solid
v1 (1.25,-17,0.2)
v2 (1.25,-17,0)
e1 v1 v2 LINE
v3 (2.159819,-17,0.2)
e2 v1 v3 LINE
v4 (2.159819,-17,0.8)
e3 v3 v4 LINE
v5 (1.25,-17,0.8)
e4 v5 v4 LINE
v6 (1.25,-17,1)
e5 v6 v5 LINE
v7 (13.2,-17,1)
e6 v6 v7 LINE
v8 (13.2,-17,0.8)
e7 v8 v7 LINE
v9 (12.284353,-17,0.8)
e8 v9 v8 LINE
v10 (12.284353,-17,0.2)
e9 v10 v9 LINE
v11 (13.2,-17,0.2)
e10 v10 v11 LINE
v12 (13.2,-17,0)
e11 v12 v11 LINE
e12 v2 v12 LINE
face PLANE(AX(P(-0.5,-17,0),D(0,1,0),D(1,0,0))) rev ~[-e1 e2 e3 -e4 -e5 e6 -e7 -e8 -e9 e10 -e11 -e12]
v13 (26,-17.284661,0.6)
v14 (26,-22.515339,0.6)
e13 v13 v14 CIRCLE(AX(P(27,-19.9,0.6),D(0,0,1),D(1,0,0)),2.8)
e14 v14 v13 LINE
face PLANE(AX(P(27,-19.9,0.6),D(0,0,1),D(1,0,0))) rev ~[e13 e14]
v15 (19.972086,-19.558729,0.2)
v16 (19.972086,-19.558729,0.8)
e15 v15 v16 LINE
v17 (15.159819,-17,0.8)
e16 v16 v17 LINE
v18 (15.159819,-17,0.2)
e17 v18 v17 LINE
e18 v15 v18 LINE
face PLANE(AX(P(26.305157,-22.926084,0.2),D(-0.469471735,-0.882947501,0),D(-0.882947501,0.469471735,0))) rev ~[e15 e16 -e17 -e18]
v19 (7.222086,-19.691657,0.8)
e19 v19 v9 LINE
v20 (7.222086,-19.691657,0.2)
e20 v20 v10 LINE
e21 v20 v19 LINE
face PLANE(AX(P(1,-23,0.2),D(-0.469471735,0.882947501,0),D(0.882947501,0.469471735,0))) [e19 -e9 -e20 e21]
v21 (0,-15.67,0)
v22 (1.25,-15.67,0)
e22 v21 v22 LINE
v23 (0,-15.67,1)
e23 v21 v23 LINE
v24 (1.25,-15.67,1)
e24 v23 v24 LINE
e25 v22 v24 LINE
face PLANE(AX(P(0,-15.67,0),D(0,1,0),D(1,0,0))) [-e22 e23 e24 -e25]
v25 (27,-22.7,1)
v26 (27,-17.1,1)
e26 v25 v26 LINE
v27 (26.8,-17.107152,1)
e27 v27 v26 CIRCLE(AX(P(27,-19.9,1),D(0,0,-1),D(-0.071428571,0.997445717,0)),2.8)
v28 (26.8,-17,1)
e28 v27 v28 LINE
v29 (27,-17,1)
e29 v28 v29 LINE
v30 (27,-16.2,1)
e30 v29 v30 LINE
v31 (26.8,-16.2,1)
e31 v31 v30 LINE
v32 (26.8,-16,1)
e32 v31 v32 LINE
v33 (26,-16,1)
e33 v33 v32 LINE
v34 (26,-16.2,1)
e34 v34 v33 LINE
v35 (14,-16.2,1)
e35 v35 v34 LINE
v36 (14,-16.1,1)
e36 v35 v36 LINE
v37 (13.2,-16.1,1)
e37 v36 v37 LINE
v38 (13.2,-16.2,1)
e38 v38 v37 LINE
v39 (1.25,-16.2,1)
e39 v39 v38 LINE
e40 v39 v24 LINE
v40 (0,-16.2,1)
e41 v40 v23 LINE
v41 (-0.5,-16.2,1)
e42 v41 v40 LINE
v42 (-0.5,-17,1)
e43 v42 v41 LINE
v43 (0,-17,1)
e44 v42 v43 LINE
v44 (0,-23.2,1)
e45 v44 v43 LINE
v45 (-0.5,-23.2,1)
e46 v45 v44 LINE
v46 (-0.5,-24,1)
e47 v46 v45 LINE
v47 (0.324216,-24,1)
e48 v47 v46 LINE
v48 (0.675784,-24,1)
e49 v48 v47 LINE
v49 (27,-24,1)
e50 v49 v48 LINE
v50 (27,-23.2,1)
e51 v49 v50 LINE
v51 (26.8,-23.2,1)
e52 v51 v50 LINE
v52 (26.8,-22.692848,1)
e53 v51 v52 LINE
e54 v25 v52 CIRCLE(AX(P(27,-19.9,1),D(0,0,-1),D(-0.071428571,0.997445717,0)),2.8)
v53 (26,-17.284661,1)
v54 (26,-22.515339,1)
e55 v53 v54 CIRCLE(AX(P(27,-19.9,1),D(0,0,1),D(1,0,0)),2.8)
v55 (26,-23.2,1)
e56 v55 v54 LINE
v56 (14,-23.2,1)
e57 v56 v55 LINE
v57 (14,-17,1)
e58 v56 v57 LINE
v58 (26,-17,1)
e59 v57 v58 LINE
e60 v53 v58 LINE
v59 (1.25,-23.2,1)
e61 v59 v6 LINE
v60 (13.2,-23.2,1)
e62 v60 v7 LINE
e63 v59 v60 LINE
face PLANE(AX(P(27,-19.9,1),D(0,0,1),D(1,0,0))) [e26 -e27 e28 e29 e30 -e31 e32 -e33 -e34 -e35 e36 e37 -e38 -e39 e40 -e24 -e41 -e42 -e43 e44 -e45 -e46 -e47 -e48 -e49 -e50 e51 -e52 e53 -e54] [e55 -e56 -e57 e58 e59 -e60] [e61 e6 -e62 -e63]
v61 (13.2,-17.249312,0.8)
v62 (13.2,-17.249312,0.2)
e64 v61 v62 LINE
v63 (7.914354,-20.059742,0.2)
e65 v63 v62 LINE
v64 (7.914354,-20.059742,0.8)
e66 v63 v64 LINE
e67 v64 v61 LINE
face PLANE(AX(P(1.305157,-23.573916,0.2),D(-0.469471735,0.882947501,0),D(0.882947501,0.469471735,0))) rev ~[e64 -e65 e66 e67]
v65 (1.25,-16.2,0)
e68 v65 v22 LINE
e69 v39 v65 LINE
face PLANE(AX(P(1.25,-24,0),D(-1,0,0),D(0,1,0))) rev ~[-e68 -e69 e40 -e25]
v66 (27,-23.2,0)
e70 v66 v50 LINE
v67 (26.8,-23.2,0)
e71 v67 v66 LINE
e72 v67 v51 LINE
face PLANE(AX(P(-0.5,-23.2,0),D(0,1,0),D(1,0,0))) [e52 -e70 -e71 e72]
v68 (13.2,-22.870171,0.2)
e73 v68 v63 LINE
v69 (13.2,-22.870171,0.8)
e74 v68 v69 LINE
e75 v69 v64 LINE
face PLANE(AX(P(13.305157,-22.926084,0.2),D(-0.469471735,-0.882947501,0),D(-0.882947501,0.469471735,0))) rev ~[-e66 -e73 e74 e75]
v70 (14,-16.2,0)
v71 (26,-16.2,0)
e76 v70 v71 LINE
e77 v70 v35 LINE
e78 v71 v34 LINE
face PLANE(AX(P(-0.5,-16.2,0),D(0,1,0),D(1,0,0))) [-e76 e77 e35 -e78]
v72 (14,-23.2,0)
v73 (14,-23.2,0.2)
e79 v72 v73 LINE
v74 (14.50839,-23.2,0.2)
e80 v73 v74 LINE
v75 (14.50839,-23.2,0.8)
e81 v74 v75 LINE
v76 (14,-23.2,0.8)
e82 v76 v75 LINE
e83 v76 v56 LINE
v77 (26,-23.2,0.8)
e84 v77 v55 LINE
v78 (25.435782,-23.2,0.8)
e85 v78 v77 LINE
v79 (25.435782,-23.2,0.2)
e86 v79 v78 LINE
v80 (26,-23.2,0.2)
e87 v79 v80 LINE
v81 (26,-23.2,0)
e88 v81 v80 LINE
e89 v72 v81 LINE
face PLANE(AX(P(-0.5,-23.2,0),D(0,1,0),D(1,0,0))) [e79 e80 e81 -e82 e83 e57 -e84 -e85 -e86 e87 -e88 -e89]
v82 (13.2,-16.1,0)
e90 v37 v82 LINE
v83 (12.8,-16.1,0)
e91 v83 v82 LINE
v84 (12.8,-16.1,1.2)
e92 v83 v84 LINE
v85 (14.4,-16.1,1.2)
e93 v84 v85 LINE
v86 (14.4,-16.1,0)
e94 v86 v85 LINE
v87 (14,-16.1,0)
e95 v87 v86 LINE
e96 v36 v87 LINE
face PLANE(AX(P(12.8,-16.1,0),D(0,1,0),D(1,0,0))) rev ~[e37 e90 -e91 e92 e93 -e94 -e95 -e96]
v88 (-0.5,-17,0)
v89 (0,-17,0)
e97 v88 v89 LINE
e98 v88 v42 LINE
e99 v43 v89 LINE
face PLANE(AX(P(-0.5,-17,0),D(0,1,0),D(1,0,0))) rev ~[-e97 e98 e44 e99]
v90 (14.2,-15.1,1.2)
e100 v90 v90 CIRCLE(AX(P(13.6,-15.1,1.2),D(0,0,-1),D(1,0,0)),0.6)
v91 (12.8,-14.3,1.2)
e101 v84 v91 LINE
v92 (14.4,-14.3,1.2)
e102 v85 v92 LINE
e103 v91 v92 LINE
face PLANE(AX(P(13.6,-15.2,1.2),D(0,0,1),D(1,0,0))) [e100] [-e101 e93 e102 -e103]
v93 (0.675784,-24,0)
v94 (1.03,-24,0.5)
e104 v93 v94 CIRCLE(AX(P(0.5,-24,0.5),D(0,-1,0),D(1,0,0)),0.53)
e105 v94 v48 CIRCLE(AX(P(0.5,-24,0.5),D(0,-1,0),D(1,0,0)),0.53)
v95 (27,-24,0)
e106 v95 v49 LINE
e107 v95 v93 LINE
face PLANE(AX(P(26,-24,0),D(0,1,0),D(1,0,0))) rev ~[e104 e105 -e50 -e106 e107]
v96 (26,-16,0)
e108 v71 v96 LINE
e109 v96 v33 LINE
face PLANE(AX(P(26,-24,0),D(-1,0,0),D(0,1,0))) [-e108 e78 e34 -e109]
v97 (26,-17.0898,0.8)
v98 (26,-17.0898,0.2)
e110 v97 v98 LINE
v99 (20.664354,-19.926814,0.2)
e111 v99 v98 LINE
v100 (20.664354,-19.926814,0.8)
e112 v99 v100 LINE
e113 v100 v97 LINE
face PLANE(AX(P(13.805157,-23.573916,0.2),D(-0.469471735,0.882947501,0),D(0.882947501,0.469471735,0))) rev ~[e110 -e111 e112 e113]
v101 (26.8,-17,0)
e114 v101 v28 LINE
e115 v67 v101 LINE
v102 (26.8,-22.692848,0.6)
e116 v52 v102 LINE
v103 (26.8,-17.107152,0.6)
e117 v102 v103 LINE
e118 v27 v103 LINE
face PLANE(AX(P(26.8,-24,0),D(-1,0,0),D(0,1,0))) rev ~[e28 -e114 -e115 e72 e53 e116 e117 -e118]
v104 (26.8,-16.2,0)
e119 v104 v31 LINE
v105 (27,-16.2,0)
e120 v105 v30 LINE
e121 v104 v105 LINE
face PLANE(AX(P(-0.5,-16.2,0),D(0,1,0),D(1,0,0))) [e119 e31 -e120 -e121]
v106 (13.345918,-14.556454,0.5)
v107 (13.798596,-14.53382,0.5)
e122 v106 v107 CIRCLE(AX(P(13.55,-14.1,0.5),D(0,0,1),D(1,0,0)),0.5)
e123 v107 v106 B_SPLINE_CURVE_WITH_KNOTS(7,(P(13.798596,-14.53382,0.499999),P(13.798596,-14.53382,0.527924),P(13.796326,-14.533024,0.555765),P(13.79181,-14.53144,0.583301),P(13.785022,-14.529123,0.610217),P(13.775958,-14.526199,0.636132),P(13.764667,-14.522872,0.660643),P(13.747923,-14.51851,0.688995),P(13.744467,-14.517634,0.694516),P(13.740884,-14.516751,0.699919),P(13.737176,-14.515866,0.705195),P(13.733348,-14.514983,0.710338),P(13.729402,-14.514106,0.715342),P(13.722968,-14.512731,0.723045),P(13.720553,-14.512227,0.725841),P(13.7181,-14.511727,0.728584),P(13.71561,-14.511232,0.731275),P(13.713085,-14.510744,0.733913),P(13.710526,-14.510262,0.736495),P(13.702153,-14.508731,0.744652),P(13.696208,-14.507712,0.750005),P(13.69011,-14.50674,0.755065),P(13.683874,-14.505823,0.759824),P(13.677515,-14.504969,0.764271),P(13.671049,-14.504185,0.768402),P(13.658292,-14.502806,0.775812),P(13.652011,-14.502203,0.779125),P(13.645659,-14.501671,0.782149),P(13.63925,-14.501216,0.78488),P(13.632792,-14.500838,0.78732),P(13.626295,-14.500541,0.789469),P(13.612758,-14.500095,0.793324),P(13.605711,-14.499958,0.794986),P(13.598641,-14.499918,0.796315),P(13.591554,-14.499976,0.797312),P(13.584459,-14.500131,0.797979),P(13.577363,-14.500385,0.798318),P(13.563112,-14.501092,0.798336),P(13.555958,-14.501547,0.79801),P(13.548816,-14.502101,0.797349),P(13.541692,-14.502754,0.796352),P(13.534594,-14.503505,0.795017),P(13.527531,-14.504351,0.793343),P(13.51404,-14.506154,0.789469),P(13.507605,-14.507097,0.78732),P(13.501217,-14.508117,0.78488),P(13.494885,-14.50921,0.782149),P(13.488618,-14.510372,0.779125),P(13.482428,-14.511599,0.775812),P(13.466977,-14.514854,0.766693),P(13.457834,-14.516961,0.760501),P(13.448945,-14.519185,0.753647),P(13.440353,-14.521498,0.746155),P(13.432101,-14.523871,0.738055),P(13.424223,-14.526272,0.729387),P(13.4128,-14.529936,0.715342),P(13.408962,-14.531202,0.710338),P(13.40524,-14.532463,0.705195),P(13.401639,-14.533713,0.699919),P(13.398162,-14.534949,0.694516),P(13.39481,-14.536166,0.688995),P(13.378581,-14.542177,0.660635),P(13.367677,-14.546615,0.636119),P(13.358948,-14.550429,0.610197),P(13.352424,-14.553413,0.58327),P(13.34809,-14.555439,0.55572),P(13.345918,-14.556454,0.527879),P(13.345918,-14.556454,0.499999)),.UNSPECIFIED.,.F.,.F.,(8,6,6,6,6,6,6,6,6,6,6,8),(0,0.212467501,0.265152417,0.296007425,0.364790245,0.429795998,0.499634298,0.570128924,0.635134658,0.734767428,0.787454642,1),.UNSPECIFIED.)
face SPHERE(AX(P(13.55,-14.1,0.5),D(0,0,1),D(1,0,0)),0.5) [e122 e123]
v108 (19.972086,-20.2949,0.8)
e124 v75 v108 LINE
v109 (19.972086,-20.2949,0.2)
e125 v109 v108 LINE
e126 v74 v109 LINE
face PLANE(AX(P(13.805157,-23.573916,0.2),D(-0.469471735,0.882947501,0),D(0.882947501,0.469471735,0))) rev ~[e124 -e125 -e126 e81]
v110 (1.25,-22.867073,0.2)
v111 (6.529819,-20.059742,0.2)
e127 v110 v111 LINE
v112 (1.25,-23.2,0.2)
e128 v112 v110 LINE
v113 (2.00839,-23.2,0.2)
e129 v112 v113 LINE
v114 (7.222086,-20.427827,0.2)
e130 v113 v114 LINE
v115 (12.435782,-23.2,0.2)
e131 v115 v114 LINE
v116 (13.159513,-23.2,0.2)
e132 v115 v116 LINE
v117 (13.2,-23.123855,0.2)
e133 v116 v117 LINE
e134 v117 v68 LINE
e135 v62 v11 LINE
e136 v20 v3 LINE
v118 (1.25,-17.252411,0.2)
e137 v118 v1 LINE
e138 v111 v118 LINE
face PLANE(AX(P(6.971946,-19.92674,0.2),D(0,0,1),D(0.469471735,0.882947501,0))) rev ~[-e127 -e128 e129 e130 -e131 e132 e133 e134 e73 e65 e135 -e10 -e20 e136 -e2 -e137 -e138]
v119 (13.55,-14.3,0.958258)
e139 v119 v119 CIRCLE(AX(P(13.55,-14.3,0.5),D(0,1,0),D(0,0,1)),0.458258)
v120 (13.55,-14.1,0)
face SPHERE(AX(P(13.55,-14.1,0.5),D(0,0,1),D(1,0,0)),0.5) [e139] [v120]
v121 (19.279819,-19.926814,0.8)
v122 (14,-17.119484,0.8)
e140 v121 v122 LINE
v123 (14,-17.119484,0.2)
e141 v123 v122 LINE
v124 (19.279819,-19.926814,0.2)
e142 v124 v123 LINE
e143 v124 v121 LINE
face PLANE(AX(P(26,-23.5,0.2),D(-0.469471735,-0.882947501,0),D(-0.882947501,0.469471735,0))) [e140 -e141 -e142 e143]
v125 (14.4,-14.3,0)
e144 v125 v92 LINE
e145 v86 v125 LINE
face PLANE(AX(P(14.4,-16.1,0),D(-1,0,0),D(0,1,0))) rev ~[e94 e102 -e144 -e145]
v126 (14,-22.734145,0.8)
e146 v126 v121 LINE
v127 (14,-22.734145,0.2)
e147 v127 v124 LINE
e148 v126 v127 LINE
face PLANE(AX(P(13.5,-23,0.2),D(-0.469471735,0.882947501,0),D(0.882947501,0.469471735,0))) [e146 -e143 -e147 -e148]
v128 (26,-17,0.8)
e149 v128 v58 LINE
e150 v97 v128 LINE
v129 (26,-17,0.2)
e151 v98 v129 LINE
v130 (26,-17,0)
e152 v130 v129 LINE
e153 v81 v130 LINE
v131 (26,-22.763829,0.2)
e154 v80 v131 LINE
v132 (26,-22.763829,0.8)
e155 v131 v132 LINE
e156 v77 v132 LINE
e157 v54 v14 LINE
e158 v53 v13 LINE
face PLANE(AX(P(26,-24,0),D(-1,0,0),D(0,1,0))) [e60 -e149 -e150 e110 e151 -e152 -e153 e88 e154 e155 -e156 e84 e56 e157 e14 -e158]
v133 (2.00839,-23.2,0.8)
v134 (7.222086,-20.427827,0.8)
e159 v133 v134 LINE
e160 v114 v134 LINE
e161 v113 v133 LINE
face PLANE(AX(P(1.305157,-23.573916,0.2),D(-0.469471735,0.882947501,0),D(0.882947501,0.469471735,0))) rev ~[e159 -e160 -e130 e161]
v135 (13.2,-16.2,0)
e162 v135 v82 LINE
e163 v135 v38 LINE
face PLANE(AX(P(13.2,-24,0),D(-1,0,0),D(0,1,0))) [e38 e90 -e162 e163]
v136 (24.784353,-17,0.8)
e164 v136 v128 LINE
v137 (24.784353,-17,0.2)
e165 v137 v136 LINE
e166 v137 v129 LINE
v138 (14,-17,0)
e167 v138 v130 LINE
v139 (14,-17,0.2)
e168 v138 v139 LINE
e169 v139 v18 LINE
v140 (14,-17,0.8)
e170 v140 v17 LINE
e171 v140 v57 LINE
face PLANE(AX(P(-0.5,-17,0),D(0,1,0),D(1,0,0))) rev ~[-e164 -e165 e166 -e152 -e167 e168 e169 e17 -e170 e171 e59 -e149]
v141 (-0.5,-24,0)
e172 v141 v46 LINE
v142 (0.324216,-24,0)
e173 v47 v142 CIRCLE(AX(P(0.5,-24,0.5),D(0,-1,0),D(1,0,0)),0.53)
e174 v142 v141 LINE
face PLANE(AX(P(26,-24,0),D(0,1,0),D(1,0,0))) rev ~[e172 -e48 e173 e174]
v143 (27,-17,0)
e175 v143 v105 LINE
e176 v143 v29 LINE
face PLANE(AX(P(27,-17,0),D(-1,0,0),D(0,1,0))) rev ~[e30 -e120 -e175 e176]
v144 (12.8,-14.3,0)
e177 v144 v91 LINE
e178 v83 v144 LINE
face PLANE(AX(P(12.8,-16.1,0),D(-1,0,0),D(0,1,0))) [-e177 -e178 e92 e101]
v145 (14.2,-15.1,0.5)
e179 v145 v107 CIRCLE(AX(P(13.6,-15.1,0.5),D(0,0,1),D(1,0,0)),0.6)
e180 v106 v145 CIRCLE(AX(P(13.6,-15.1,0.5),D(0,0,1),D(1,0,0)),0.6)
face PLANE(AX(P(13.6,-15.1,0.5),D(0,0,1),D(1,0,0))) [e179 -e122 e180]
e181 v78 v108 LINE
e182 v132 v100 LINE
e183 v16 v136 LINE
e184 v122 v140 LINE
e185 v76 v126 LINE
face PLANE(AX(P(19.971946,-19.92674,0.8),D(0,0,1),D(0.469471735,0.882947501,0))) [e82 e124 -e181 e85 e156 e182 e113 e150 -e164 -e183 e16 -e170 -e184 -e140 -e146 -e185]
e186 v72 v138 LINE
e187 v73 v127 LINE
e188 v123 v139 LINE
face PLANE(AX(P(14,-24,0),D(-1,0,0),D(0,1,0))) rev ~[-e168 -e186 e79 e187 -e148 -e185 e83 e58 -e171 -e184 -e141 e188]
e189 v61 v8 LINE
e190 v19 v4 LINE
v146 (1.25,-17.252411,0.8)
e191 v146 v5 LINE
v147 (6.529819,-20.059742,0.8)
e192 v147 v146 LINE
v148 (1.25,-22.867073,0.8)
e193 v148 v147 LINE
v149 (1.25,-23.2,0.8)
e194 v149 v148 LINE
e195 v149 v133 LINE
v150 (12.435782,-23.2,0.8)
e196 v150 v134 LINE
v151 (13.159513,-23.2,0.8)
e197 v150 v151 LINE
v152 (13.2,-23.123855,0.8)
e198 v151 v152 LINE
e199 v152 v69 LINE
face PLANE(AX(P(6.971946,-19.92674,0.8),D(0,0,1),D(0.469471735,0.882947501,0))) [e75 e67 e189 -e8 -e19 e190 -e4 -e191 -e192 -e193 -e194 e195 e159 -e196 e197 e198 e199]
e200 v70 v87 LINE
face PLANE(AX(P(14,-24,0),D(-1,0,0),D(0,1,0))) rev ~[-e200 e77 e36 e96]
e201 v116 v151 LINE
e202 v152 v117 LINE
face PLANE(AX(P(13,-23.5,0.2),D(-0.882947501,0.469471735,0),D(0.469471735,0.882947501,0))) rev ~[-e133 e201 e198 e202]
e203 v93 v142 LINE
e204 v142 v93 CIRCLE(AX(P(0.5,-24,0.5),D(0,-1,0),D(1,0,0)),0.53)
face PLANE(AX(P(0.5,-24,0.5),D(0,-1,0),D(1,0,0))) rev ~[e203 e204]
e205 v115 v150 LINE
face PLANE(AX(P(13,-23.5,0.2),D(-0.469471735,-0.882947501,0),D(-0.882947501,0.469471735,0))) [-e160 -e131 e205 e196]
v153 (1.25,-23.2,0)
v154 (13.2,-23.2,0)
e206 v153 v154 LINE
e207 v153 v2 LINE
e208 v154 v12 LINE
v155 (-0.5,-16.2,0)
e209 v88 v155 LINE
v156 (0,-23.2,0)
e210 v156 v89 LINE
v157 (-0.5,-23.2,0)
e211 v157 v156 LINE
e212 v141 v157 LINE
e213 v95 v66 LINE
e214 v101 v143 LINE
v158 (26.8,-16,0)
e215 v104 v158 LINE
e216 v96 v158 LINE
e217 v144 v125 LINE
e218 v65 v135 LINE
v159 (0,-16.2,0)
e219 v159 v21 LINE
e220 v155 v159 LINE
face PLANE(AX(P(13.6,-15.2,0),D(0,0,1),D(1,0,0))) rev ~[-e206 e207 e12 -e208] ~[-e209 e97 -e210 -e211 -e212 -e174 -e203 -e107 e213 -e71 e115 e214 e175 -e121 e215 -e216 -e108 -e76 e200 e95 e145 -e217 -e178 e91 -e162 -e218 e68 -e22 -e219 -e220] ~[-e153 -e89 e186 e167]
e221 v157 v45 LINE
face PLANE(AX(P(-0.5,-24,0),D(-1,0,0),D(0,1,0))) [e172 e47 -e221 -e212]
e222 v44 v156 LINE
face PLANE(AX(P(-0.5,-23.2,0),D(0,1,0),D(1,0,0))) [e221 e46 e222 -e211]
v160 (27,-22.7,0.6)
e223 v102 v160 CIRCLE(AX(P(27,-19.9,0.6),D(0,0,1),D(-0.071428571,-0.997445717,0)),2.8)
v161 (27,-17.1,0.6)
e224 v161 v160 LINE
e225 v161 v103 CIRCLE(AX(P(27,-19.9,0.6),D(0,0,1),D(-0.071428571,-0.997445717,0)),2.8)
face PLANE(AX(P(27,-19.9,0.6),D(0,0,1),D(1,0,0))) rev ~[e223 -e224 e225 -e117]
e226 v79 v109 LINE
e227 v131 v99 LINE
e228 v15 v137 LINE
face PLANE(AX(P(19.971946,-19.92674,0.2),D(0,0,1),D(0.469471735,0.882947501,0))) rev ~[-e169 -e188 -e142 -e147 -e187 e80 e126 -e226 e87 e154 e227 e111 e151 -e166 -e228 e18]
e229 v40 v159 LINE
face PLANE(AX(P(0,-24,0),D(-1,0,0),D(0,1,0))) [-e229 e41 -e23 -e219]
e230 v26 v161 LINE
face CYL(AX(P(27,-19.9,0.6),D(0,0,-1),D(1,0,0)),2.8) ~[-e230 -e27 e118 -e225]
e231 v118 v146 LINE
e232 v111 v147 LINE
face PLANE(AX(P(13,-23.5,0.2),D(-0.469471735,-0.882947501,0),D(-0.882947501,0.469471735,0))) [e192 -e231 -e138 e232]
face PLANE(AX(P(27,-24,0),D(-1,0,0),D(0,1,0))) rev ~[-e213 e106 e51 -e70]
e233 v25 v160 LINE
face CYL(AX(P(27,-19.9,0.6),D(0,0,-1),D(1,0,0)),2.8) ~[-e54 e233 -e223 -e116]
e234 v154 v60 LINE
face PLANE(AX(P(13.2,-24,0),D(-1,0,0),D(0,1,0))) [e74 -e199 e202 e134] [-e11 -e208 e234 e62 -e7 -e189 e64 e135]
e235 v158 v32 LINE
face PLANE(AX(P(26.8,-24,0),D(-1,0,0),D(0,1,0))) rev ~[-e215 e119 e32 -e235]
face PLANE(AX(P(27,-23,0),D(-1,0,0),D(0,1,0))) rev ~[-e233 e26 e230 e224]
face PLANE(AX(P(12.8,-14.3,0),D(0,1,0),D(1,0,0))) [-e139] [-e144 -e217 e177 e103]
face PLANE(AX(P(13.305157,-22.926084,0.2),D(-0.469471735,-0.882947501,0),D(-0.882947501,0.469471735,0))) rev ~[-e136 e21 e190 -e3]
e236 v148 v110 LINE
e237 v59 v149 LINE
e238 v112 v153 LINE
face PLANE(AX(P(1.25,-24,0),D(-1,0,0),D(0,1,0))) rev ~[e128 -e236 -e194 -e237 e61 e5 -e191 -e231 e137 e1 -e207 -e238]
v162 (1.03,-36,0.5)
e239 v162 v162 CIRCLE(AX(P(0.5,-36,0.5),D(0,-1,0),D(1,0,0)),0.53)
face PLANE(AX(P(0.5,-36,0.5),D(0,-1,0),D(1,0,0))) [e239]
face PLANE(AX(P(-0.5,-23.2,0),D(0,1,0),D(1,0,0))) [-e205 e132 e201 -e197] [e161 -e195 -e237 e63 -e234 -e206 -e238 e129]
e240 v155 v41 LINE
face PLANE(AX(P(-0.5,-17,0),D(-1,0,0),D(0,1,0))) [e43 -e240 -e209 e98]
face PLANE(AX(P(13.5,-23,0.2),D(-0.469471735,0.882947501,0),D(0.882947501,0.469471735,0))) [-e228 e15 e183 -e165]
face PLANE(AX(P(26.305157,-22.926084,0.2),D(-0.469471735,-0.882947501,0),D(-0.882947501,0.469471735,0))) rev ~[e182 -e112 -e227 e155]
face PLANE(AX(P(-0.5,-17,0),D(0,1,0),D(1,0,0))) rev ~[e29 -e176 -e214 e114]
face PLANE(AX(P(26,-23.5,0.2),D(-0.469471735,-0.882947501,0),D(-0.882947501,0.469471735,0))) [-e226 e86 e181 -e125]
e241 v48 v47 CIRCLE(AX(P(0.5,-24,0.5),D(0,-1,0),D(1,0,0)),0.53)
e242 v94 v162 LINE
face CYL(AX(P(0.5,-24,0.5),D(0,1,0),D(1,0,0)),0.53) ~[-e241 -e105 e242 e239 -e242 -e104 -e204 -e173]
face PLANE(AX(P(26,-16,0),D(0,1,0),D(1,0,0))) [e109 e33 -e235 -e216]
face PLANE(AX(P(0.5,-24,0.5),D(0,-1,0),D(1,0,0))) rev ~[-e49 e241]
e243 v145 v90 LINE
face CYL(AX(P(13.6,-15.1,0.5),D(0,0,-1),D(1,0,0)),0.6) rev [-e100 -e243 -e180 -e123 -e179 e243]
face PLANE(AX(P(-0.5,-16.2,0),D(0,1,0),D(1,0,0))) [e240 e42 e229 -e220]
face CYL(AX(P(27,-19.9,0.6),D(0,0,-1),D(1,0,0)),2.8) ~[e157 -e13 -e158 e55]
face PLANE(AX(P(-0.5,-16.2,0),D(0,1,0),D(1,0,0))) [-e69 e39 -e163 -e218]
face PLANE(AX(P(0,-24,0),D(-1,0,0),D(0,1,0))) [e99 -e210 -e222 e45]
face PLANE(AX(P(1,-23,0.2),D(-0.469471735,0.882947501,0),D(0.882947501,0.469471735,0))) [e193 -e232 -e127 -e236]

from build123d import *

# Parameters (mm, degrees)
SKETCH003_W            = 1.25
SKETCH003_H            = 8.33
PAD003_DEPTH           = 1
BOX019_W               = 27.5
BOX019_H               = 0.8
BOX019_DEPTH           = 1
LINEARPATTERN009_COUNT = 2
LINEARPATTERN009_PITCH = 7
BOX022_W               = 0.8
BOX022_H               = 8
BOX022_DEPTH           = 1
BOX021_W               = 0.8
BOX021_H               = 8
BOX021_DEPTH           = 1
BOX020_W               = 0.65
BOX020_H               = 14
BOX020_DEPTH           = 0.6
LINEARPATTERN011_COUNT = 2
LINEARPATTERN011_PITCH = 12.5
BOX023_W               = 0.65
BOX023_H               = 14
BOX023_DEPTH           = 0.6
LINEARPATTERN010_COUNT = 2
LINEARPATTERN010_PITCH = 13
CYLINDER010_R          = 0.53
CYLINDER010_DEPTH      = 12
CYLINDER009_R          = 2.8
CYLINDER009_DEPTH      = 0.4
BOX025_W               = 1.6
BOX025_H               = 1.8
BOX025_DEPTH           = 1.2
CYLINDER011_R          = 0.6
CYLINDER011_DEPTH      = 2
BOX024_W               = 4
BOX024_H               = 6
BOX024_DEPTH           = 1


with BuildPart() as part:
    # Sketch003 → Pad003 (new body)
    with BuildSketch(Plane.XY):
        with Locations((0.625, 4.165)):
            Rectangle(SKETCH003_W, SKETCH003_H)
    extrude(amount=PAD003_DEPTH)

    # Box019 → Box019 (join)
    with BuildSketch(Plane(origin=(-0.5, 0, 0), x_dir=(1, 0, 0), z_dir=(0, 0, 1))):
        with Locations((13.75, 0.4)):
            Rectangle(BOX019_W, BOX019_H)
    box019 = extrude(amount=BOX019_DEPTH)

    # LinearPattern009: Box019 ×2
    with Locations(*[(0, i * LINEARPATTERN009_PITCH, 0) for i in range(1, LINEARPATTERN009_COUNT)]):
        add(box019)

    # Box022 → Box022 (join)
    with BuildSketch(Plane(origin=(13.2, 0, 0), x_dir=(1, 0, 0), z_dir=(0, 0, 1))):
        with Locations((0.4, 4)):
            Rectangle(BOX022_W, BOX022_H)
    extrude(amount=BOX022_DEPTH)

    # Box021 → Box021 (join)
    with BuildSketch(Plane(origin=(26, 0, 0), x_dir=(1, 0, 0), z_dir=(0, 0, 1))):
        with Locations((0.4, 4)):
            Rectangle(BOX021_W, BOX021_H)
    extrude(amount=BOX021_DEPTH)

    # Box020 → Box020 (join)
    with BuildSketch(Plane(origin=(1, 1, 0.2), x_dir=(0.469472, -0.882948, 0), z_dir=(0, 0, 1))):
        with Locations((0.325, 7)):
            Rectangle(BOX020_W, BOX020_H)
    box020 = extrude(amount=BOX020_DEPTH)

    # LinearPattern011: Box020 ×2
    with Locations(*[(i * LINEARPATTERN011_PITCH, 0, 0) for i in range(1, LINEARPATTERN011_COUNT)]):
        add(box020)

    # Box023 → Box023 (join)
    with BuildSketch(Plane(origin=(13, 0.5, 0.2), x_dir=(0.469472, 0.882948, 0), z_dir=(0, 0, 1))):
        with Locations((0.325, 7)):
            Rectangle(BOX023_W, BOX023_H)
    box023 = extrude(amount=BOX023_DEPTH)

    # LinearPattern010: Box023 ×2
    with Locations(*[(i * LINEARPATTERN010_PITCH, 0, 0) for i in range(1, LINEARPATTERN010_COUNT)]):
        add(box023)

    # Cylinder010 → Cylinder010 (join)
    with BuildSketch(Plane(origin=(0.5, 0, 0.5), x_dir=(1, 0, 0), z_dir=(0, -1, 0))):
        Circle(CYLINDER010_R)
    extrude(amount=CYLINDER010_DEPTH)

    # Cylinder009 → Cylinder009 (join)
    with BuildSketch(Plane(origin=(27, 4.1, 0.6), x_dir=(1, 0, 0), z_dir=(0, 0, 1))):
        Circle(CYLINDER009_R)
    extrude(amount=CYLINDER009_DEPTH)

    # Box025 → Box025 (join)
    with BuildSketch(Plane(origin=(12.8, 7.9, 0), x_dir=(1, 0, 0), z_dir=(0, 0, 1))):
        with Locations((0.8, 0.9)):
            Rectangle(BOX025_W, BOX025_H)
    extrude(amount=BOX025_DEPTH)

    # Cylinder011 → Cylinder011 (cut)
    with BuildSketch(Plane(origin=(13.6, 8.9, 0.5), x_dir=(1, 0, 0), z_dir=(0, 0, 1))):
        Circle(CYLINDER011_R)
    extrude(amount=CYLINDER011_DEPTH, mode=Mode.SUBTRACT)

    # Box024 → Box024 (cut)
    with BuildSketch(Plane(origin=(27, 1, 0), x_dir=(1, 0, 0), z_dir=(0, 0, 1))):
        with Locations((2, 3)):
            Rectangle(BOX024_W, BOX024_H)
    extrude(amount=BOX024_DEPTH, mode=Mode.SUBTRACT)

    # Sphere001 → Sphere001 (revolve)
    with BuildSketch(Plane(origin=(13.55, 9.9, 0.5), x_dir=(1, 0, 0), z_dir=(0, -1, 0))):
        with BuildLine():
            ThreePointArc((0, -0.5), (0.5, 0), (0, 0.5))
            Line((0, 0.5), (0, -0.5))
        make_face()
    revolve(axis=Axis((13.55, 9.9, 0.5), (0, 0, 1)))


with BuildPart() as part_1:
    # Body003 placement: moved
    add(part.part.moved(Location((0, -24, 0))))


solid = part_1.part
